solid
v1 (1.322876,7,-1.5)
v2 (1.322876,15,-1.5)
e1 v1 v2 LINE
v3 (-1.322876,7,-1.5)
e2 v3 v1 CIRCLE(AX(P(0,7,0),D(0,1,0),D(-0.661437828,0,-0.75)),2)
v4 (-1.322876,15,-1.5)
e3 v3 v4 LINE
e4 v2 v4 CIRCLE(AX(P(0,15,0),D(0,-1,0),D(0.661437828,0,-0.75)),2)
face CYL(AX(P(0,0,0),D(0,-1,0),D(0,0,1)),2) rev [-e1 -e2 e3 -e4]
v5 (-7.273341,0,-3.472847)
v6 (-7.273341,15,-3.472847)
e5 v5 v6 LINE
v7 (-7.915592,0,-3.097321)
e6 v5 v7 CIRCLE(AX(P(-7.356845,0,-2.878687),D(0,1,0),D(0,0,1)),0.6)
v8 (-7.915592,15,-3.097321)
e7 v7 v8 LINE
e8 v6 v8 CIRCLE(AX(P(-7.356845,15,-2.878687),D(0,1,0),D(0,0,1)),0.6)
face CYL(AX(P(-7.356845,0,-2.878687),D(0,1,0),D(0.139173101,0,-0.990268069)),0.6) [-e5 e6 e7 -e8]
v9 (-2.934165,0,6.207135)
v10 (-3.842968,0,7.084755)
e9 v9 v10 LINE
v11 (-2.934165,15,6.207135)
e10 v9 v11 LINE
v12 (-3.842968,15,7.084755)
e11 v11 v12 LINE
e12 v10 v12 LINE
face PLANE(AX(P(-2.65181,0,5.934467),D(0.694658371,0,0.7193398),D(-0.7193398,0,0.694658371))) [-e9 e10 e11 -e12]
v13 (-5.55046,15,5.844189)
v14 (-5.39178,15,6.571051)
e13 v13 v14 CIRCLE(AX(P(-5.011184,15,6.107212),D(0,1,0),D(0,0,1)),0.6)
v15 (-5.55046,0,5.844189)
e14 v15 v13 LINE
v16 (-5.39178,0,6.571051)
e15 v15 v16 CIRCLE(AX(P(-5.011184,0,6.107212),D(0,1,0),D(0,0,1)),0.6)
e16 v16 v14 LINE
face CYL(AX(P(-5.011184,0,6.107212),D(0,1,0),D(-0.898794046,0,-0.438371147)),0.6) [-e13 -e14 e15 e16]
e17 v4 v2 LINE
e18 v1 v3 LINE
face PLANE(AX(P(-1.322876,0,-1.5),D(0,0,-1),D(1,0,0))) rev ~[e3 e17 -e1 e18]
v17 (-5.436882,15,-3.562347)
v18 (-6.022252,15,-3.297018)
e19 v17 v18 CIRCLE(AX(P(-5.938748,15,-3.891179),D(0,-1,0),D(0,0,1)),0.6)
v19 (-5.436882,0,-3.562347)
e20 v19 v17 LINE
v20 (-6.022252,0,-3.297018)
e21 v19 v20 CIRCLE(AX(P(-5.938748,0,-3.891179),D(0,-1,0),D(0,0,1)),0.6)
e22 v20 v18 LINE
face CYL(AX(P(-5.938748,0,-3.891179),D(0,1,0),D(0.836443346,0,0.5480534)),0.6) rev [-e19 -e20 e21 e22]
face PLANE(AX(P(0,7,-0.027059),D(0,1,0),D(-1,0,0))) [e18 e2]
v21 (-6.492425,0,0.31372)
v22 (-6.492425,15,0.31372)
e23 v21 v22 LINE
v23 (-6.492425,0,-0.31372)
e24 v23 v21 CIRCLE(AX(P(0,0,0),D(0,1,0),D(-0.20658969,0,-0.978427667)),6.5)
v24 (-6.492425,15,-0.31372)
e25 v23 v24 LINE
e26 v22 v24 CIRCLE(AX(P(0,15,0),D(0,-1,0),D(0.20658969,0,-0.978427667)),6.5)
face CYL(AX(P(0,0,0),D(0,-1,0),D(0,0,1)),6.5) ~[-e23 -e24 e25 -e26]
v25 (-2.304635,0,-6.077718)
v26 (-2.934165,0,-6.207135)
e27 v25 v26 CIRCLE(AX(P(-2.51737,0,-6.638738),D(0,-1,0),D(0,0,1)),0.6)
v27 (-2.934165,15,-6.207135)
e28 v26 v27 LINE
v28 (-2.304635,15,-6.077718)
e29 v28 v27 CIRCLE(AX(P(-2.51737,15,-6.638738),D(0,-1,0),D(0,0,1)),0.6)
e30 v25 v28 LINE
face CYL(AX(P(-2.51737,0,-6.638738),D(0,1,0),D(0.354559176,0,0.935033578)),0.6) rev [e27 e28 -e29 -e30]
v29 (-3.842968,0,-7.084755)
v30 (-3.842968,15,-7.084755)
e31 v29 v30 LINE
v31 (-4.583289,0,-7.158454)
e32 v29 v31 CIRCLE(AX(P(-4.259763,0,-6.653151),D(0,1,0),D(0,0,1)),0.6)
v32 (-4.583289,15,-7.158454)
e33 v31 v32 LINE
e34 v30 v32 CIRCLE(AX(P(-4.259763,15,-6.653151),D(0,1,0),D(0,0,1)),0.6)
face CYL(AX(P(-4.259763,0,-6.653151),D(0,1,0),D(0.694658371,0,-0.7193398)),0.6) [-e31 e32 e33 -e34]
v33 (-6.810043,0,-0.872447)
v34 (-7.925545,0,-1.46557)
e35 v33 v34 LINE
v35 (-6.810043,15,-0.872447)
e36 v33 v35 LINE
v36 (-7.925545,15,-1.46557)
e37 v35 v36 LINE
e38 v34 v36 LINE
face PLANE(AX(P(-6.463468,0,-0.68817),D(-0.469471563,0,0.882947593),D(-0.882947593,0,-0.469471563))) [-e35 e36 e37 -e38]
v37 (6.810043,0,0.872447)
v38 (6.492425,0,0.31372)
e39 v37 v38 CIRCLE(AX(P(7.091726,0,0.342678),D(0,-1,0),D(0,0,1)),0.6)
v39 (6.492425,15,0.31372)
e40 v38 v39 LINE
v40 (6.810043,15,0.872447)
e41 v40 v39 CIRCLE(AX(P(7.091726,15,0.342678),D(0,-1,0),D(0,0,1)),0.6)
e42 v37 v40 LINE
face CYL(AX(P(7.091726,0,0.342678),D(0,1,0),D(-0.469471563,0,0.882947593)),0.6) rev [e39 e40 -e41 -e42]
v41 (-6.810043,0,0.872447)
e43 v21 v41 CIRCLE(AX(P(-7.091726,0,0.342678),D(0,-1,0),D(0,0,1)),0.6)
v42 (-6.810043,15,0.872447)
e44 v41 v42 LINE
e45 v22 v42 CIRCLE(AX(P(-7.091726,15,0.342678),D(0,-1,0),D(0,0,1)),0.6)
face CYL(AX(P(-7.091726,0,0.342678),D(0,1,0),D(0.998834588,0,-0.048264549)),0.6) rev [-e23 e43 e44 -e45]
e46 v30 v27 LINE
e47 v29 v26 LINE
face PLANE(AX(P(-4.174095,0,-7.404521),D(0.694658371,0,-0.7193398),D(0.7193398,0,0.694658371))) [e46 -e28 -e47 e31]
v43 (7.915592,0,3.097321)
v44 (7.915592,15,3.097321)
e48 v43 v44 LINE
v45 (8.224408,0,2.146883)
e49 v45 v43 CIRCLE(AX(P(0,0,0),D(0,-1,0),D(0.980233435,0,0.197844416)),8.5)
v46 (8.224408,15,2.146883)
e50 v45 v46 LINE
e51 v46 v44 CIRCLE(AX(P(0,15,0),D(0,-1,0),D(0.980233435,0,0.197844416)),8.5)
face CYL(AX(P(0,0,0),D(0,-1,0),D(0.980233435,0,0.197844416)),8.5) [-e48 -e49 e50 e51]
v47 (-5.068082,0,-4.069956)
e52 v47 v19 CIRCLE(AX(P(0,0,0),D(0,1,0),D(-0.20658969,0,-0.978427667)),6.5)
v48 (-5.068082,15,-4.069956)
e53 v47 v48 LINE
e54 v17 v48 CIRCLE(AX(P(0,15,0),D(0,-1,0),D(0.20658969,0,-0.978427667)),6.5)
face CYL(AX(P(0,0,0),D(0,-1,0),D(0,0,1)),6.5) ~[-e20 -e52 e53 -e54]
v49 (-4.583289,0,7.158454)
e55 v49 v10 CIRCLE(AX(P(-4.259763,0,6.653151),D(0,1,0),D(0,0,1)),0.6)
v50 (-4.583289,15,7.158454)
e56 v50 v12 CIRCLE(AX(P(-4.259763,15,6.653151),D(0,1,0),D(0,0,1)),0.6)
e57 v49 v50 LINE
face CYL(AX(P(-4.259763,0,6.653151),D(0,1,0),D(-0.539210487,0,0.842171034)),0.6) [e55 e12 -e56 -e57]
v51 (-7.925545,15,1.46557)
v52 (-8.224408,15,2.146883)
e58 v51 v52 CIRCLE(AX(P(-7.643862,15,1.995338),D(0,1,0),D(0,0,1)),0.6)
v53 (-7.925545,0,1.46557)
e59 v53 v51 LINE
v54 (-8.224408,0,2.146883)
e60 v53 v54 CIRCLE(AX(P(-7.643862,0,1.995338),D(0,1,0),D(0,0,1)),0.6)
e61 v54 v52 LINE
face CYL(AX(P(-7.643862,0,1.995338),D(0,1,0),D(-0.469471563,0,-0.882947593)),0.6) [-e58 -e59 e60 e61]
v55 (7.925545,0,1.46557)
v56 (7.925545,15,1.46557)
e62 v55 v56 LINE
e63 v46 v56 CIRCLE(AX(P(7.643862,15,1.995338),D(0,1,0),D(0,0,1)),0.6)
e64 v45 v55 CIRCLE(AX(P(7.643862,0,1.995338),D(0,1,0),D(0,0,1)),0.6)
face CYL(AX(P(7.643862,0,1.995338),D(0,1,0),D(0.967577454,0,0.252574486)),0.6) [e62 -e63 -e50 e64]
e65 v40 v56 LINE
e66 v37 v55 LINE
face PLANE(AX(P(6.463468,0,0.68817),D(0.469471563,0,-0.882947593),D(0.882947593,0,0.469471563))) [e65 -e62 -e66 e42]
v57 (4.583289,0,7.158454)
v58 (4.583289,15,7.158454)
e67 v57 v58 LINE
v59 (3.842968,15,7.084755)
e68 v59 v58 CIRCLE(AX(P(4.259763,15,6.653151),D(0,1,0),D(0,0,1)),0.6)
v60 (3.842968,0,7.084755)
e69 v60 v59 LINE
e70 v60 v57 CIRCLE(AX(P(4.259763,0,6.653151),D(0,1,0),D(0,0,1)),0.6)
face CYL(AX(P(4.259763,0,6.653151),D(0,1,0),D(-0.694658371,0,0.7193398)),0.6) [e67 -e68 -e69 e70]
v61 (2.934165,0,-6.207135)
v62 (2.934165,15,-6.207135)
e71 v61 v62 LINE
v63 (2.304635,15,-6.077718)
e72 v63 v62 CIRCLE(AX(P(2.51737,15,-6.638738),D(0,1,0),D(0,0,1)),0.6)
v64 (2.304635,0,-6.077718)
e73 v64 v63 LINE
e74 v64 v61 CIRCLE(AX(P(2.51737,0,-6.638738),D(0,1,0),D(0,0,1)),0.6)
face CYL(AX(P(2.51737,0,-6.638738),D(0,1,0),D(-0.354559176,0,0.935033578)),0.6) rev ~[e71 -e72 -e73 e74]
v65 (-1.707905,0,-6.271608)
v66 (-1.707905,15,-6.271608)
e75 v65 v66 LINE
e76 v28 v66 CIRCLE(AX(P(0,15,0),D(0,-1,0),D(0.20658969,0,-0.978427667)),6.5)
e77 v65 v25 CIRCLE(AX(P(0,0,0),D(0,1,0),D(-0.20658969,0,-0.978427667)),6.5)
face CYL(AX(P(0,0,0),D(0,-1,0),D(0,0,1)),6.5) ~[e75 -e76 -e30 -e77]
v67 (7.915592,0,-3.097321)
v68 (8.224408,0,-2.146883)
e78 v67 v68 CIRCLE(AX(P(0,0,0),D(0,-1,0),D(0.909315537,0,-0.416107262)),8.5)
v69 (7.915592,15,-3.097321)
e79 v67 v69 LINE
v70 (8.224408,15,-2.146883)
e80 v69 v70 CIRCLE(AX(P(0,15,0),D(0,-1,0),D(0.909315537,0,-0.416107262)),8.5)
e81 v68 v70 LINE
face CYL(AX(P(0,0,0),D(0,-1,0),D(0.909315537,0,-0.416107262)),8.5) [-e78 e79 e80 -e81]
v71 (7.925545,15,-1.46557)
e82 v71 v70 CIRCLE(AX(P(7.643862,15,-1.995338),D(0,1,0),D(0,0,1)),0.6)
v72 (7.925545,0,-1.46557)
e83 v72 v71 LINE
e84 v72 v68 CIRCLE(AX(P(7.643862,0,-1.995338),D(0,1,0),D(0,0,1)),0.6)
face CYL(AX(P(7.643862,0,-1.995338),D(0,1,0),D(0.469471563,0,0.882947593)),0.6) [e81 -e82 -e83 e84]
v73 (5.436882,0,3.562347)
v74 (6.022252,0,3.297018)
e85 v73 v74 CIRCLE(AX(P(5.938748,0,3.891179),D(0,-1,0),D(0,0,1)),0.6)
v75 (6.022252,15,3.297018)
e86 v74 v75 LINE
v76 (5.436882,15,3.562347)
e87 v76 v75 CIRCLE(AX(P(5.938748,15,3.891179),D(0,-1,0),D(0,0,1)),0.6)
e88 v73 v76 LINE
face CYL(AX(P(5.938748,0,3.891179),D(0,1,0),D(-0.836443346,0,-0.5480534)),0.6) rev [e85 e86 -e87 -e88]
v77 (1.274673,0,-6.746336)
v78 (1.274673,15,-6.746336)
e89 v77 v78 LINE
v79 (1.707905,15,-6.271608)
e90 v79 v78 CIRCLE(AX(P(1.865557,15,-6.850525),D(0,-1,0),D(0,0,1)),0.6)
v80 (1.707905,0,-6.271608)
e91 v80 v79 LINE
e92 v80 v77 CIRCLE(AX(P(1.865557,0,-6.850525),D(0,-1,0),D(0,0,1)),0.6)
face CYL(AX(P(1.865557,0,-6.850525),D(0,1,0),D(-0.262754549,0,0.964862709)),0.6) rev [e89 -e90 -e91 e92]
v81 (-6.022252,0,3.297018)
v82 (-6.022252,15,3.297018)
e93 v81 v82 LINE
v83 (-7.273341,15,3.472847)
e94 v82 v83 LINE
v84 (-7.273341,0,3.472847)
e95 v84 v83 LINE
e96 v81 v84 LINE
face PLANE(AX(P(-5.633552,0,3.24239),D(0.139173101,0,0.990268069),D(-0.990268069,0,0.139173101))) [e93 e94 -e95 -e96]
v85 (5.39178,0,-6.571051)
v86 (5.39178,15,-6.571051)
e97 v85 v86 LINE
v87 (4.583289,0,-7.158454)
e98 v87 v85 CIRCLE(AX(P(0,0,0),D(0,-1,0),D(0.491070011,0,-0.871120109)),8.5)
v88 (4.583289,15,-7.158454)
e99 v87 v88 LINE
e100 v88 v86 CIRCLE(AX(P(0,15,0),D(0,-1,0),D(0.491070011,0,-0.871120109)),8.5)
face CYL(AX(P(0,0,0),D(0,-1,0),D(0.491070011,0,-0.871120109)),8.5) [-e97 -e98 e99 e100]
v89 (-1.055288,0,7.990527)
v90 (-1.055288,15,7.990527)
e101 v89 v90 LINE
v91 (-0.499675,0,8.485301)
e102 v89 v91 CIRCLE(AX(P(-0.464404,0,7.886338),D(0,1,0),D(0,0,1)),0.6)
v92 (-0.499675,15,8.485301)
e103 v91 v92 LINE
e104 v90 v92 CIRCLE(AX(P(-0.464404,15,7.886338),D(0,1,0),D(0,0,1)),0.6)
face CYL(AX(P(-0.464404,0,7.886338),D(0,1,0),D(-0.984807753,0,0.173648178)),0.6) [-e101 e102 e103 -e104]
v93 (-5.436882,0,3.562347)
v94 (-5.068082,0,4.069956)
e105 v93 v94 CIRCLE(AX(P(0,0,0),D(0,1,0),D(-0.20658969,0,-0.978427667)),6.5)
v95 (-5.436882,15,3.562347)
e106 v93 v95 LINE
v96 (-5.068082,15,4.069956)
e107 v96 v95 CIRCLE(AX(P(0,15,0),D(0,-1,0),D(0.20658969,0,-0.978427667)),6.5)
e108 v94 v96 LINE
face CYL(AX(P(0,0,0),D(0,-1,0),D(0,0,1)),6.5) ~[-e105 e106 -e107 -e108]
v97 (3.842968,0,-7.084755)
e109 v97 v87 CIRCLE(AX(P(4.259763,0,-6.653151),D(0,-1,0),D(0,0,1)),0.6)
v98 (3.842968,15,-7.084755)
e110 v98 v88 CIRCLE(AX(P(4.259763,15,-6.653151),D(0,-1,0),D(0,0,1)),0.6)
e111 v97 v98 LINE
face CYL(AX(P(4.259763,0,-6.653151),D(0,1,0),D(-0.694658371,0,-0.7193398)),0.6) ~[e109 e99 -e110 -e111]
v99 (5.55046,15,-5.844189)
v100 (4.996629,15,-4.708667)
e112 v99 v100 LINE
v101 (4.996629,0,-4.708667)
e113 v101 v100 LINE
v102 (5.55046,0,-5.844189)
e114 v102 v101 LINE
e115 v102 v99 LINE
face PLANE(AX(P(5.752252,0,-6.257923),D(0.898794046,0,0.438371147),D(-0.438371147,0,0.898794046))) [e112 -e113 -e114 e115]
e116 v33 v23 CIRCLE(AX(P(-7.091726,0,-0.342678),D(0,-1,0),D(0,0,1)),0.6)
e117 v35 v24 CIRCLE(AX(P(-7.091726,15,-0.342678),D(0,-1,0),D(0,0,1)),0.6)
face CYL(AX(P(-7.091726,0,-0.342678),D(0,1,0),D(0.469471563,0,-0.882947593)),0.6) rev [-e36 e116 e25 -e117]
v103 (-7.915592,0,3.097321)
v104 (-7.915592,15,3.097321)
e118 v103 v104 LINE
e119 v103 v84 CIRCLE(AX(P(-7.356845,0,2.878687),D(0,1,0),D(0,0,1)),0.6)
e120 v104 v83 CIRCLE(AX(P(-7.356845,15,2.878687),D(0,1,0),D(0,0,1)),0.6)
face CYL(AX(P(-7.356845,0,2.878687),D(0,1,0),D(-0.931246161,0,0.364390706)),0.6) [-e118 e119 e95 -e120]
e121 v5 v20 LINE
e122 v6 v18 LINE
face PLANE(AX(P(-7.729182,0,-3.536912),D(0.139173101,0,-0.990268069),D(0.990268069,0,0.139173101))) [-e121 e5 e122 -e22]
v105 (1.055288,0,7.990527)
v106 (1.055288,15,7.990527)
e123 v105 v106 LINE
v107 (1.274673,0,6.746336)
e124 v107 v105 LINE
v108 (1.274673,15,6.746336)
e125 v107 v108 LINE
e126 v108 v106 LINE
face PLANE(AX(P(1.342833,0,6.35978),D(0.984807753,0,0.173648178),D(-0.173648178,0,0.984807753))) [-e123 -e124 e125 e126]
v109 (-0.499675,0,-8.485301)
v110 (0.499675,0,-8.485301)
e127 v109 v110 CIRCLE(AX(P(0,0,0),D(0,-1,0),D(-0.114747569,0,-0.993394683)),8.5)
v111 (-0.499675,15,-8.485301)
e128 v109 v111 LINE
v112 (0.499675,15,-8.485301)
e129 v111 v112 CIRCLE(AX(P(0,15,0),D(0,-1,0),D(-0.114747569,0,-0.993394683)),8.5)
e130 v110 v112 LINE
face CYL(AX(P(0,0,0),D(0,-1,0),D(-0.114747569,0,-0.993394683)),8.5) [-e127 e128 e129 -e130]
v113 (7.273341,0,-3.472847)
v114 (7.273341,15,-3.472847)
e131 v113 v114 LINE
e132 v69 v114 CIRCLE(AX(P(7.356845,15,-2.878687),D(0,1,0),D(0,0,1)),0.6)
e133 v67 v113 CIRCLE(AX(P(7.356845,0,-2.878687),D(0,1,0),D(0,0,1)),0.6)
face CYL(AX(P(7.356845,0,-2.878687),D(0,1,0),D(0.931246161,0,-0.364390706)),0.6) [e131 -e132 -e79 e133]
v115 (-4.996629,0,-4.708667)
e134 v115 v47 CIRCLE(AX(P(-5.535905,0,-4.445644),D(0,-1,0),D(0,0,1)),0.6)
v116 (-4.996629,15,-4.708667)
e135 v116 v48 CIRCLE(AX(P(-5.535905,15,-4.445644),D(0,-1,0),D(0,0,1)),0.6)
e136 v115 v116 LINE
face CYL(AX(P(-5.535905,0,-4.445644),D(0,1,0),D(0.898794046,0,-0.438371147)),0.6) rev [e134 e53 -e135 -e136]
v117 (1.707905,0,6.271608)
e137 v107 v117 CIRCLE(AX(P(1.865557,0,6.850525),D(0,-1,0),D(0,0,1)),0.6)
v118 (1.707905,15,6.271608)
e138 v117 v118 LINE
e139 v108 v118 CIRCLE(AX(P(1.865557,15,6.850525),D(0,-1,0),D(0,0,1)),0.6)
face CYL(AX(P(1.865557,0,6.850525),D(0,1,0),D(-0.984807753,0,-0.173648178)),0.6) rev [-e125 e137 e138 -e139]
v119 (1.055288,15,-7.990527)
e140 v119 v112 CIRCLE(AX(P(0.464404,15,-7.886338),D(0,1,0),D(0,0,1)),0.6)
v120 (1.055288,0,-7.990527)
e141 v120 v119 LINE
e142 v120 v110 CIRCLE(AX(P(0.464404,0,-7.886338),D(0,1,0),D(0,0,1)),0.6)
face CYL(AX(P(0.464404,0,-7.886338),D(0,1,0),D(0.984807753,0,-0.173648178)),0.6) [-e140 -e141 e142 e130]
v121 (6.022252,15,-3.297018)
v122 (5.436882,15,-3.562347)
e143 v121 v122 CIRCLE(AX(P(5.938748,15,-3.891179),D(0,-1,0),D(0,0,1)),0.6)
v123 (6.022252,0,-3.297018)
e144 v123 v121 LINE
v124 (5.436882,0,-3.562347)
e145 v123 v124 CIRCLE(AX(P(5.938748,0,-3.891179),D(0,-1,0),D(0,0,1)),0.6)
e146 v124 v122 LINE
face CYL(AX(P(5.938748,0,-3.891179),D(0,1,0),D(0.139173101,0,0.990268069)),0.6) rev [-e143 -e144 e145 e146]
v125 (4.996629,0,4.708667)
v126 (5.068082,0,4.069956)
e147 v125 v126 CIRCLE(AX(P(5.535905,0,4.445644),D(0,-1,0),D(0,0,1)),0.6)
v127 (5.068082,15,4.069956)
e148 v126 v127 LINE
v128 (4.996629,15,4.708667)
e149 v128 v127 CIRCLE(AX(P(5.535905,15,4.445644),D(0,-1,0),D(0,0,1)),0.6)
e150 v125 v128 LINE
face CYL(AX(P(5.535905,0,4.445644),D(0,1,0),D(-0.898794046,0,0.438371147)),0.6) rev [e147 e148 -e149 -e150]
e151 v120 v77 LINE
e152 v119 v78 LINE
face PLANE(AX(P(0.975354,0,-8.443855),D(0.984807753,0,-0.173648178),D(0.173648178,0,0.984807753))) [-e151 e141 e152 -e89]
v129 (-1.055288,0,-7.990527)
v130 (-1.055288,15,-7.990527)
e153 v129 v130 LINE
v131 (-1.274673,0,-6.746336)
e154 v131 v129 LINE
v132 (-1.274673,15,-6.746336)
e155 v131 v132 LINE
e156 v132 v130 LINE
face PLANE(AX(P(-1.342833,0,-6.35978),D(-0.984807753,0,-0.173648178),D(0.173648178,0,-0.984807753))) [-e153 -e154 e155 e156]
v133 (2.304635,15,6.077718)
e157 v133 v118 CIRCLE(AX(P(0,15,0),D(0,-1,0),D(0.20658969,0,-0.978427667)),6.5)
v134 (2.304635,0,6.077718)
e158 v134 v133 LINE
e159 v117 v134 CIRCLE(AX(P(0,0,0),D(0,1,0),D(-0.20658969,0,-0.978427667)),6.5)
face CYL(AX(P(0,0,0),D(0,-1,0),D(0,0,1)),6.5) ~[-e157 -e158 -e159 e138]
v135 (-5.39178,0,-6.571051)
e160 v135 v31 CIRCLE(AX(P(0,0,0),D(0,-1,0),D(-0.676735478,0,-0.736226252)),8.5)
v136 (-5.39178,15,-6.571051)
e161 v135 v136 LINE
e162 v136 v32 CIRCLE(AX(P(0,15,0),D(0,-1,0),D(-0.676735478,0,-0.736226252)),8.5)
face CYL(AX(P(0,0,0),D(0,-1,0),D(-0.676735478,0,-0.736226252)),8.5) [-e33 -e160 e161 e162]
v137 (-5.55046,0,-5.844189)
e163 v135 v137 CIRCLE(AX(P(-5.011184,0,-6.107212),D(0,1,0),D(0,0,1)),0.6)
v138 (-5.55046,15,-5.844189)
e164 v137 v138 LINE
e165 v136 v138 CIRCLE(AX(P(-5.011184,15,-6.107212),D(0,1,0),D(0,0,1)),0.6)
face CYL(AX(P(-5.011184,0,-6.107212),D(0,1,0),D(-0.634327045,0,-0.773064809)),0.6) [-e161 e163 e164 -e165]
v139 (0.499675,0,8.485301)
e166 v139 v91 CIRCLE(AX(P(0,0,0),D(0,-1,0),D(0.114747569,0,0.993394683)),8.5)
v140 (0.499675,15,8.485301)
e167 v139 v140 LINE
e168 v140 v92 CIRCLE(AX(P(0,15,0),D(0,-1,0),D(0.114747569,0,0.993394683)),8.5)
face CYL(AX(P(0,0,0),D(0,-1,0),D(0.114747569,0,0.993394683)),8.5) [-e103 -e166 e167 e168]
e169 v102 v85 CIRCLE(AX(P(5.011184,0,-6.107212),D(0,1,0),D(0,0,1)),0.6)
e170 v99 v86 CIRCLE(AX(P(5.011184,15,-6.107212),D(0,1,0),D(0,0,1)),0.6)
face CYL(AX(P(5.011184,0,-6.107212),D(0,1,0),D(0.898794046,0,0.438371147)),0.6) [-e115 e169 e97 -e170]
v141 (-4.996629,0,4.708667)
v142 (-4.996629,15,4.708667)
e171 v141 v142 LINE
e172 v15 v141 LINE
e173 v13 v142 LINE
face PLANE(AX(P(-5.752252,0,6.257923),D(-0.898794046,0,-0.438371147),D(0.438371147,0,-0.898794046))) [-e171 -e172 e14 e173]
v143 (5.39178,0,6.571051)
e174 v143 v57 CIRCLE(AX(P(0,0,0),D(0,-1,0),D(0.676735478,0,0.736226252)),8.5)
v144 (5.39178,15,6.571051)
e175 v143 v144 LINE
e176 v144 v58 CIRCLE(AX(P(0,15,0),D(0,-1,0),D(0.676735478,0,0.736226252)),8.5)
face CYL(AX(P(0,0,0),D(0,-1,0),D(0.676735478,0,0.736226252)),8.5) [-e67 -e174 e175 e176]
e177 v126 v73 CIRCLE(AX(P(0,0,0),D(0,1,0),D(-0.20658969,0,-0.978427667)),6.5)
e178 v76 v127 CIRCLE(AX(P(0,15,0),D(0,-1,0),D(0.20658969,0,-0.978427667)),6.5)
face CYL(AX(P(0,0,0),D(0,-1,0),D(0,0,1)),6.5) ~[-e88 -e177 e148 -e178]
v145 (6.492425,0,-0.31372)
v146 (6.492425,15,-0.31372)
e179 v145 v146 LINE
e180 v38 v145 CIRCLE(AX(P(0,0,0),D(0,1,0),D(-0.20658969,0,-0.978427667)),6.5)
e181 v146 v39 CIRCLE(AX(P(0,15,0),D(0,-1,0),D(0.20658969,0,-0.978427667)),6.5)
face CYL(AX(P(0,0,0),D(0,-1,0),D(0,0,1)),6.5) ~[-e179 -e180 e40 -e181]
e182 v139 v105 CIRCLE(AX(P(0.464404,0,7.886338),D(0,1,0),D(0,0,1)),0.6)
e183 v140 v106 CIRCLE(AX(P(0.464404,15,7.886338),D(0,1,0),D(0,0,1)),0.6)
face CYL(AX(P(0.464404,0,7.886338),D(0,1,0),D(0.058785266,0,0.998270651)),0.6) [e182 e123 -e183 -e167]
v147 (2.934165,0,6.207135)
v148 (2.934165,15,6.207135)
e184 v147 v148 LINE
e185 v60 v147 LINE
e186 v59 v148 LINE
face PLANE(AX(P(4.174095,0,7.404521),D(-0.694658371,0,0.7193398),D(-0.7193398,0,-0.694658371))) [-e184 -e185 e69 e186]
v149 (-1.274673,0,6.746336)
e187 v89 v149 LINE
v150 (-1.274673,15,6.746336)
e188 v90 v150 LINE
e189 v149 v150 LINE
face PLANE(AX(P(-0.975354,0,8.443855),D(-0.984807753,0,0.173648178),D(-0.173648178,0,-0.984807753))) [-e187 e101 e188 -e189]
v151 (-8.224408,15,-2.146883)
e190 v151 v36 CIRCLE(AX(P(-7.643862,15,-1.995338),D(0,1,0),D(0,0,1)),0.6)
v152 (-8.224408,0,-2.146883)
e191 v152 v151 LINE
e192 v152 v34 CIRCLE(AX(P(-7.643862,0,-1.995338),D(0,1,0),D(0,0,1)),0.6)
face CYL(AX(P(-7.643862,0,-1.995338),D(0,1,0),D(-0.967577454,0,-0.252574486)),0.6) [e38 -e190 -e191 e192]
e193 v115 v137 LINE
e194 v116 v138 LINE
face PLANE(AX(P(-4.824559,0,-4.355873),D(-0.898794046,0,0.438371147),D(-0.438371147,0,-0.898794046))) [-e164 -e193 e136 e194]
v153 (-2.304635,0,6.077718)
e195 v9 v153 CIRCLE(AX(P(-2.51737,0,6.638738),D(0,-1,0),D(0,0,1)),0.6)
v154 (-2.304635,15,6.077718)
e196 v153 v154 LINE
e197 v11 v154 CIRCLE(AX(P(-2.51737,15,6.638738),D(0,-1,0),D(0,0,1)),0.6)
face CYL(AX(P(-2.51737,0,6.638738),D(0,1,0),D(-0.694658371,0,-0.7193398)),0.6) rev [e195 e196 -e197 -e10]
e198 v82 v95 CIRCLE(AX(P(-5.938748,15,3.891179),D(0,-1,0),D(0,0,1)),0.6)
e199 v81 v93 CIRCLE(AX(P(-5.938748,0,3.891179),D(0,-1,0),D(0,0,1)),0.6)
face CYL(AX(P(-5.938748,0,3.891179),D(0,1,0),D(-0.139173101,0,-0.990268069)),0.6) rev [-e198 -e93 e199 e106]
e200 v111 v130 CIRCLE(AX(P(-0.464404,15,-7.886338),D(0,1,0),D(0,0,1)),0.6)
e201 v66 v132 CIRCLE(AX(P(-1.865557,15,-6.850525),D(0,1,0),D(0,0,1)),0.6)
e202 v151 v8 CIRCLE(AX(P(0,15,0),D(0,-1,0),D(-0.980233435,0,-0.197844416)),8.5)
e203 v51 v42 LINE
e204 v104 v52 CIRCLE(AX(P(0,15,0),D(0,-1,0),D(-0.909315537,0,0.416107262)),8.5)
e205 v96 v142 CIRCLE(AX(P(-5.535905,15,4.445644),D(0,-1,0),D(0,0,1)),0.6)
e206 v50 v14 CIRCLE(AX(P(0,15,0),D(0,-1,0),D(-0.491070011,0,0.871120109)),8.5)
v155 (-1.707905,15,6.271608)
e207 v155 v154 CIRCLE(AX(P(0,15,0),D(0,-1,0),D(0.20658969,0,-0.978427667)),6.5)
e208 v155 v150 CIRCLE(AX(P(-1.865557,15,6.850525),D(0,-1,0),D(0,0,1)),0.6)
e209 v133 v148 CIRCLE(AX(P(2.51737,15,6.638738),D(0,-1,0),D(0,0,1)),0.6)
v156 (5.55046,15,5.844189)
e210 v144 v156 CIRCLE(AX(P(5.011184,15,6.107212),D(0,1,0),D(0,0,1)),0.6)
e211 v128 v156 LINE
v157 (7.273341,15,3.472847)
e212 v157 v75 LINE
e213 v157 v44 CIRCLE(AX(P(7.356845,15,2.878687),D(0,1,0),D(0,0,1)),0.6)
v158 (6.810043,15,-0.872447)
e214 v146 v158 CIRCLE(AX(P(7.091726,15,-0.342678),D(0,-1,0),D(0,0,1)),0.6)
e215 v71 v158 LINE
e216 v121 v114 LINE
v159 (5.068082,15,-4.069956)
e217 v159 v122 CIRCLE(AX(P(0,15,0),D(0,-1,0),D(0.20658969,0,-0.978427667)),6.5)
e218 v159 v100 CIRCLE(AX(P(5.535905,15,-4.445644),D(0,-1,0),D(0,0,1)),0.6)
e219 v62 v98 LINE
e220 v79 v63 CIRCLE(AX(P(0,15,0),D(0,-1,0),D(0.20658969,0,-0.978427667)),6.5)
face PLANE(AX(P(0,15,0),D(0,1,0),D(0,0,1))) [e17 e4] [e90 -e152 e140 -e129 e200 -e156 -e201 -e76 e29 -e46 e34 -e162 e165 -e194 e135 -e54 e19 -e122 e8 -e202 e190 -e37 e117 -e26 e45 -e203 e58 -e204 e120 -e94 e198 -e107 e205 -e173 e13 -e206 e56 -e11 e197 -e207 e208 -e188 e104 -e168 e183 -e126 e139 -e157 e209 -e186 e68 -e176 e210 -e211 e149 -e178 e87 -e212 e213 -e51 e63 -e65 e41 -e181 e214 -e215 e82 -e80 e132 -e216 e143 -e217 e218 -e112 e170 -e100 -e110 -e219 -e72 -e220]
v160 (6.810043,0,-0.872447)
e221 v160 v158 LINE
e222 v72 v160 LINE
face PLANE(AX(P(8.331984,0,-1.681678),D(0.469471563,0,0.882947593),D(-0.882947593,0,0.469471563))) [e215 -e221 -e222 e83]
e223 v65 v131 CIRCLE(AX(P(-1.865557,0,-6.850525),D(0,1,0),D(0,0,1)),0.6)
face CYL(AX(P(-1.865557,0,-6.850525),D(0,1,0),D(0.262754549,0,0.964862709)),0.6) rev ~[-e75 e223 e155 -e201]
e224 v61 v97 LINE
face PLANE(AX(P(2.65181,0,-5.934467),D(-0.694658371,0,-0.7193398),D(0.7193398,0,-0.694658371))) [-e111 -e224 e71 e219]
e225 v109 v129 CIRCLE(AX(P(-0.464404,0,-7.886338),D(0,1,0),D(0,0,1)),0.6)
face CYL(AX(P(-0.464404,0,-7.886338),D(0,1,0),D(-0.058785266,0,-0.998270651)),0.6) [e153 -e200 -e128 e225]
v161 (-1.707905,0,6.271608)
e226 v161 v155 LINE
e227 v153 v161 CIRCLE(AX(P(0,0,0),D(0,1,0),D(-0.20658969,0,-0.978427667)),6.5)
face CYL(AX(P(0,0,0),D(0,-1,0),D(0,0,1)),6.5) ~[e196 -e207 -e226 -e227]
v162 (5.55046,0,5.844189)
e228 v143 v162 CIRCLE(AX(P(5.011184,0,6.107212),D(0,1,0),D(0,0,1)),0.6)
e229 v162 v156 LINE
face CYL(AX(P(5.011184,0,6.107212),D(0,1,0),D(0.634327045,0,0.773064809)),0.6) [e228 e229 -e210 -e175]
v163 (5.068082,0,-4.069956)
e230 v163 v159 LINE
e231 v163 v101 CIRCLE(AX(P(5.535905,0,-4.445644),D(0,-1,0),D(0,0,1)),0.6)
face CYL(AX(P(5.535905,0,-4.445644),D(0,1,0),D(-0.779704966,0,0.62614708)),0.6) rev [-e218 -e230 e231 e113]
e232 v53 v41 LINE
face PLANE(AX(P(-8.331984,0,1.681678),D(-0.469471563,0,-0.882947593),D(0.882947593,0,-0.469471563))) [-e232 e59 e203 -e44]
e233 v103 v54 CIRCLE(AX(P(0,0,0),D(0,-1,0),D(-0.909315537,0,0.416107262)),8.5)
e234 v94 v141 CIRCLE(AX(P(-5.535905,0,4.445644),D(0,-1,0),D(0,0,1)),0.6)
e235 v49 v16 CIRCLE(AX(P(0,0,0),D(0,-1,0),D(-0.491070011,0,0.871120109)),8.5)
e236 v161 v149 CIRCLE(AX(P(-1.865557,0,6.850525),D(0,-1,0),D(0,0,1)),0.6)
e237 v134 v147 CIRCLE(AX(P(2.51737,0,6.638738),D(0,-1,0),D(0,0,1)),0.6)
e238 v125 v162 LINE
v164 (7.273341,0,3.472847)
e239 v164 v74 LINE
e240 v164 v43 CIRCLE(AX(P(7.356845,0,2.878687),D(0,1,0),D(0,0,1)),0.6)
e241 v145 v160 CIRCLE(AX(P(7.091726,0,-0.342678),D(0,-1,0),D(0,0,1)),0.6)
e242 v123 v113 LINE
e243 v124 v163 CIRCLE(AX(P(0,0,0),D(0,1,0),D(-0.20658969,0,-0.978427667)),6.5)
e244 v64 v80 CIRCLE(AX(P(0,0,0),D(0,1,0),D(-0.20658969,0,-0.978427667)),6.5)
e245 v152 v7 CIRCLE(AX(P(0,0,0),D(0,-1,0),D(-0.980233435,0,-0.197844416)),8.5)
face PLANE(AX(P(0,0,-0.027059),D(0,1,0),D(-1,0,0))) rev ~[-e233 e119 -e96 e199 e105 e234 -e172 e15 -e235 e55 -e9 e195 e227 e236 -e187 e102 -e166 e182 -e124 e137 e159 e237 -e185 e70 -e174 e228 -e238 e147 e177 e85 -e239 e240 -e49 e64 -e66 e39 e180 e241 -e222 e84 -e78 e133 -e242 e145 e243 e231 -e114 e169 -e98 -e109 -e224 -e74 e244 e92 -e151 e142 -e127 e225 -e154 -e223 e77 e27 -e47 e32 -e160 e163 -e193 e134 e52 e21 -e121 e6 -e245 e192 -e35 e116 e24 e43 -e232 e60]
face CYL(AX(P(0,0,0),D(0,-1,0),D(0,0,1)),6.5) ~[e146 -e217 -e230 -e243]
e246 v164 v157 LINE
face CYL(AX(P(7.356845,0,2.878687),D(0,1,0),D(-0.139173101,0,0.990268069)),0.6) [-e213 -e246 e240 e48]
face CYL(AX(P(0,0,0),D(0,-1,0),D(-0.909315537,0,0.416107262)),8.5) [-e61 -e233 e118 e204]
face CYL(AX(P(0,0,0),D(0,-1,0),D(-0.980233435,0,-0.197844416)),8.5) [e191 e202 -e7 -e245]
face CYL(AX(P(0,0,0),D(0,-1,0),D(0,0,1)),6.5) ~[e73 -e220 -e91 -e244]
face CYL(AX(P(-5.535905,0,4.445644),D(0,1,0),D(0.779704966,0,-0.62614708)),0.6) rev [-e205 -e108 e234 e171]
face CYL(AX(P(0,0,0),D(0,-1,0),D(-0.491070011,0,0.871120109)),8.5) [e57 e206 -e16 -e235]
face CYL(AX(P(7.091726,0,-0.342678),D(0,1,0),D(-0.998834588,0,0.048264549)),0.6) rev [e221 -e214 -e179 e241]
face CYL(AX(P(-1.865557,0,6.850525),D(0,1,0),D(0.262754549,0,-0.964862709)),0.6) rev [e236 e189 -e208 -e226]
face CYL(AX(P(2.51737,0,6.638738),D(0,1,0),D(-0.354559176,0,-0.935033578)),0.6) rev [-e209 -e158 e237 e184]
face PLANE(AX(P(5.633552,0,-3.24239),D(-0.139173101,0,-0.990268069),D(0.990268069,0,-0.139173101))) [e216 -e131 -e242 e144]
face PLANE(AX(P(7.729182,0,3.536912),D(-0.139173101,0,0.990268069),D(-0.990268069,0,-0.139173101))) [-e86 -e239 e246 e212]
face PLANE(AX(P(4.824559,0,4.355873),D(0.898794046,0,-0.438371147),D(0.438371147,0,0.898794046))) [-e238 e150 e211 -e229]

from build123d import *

# Parameters (mm, degrees)
SKETCH1_R                = 6.5
SKETCH1_R_2              = 2
BOSS_EXTRUDE1_DEPTH      = 15
BOSS_EXTRUDE2_START      = -15
BOSS_EXTRUDE2_DEPTH      = 15
FILLET1_R                = 0.6
CIRPATTERN1_COUNT        = 10
FILLET1_OF_CIRPATTERN1_R = 0.6
BOSS_EXTRUDE3_START      = -15
BOSS_EXTRUDE3_DEPTH      = 15
BOSS_EXTRUDE4_DEPTH      = 7


with BuildPart() as part:
    # Sketch1 → Boss-Extrude1 (new body)
    with BuildSketch(Plane(origin=(0, 0, 0), x_dir=(1, 0, 0), z_dir=(0, 1, 0))):
        with Locations(Location((0, 0, 0), (0, 0, 270))):
            Circle(SKETCH1_R)
        with Locations(Location((0, 0, 0), (0, 0, 270))):
            Circle(SKETCH1_R_2, mode=Mode.SUBTRACT)
    extrude(amount=BOSS_EXTRUDE1_DEPTH)

    # Sketch2 → Boss-Extrude2 (add)
    with BuildSketch(Plane(origin=(0, 15, 0), x_dir=(1, 0, 0), z_dir=(0, 1, 0)).offset(BOSS_EXTRUDE2_START)):
        with BuildLine():
            Line((0.975354337, 8.443854802), (1.342832983, 6.359779837))
            ThreePointArc((1.342832983, 6.359779837), (0, 6.5), (-1.342832983, 6.359779837))
            Line((-1.342832983, 6.359779837), (-0.975354337, 8.443854802))
            ThreePointArc((-0.975354337, 8.443854802), (0, 8.5), (0.975354337, 8.443854802))
        make_face()
    boss_extrude2 = extrude(amount=BOSS_EXTRUDE2_DEPTH)

    # Fillet1
    fillet1_edges = [part.edges().sort_by_distance(p)[0] for p in [
        (-0.975354337, 7.5, -8.443854802),
        (0.975354337, 7.5, -8.443854802),
        (1.342832983, 7.5, -6.359779837),
        (-1.342832983, 7.5, -6.359779837),
    ]]
    fillet(fillet1_edges, radius=FILLET1_R)

    # CirPattern1: Boss-Extrude2 ×10 about axis
    cirpattern1_axis = Axis((0, 0, 0), (0, 1, 0))
    for i in range(1, CIRPATTERN1_COUNT):
        add(boss_extrude2.rotate(cirpattern1_axis, i * 360 / CIRPATTERN1_COUNT))

    # Fillet1 of CirPattern1
    fillet1_of_cirpattern1_edges = [part.edges().sort_by_distance(p)[0] for p in [
        (-5.752251559, 7.5, -6.257923138),
        (-4.174095091, 7.5, -7.404520928),
        (-2.651810092, 7.5, -5.934467393),
        (-4.8245595, 7.5, -4.355872545),
        (-8.331984198, 7.5, -1.681677534),
        (-7.729182066, 7.5, -3.53691173),
        (-5.633551844, 7.5, -3.242390109),
        (-6.463468269, 7.5, -0.688169991),
        (-7.729182066, 7.5, 3.53691173),
        (-8.331984198, 7.5, 1.681677534),
        (-6.463468269, 7.5, 0.688169991),
        (-5.633551844, 7.5, 3.242390109),
        (-4.174095091, 7.5, 7.404520928),
        (-5.752251559, 7.5, 6.257923138),
        (-4.8245595, 7.5, 4.355872545),
        (-2.651810092, 7.5, 5.934467393),
        (0.975354337, 7.5, 8.443854802),
        (-0.975354337, 7.5, 8.443854802),
        (-1.342832983, 7.5, 6.359779837),
        (1.342832983, 7.5, 6.359779837),
        (5.752251559, 7.5, 6.257923138),
        (4.174095091, 7.5, 7.404520928),
        (2.651810092, 7.5, 5.934467393),
        (4.8245595, 7.5, 4.355872545),
        (8.331984198, 7.5, 1.681677534),
        (7.729182066, 7.5, 3.53691173),
        (5.633551844, 7.5, 3.242390109),
        (6.463468269, 7.5, 0.688169991),
        (7.729182066, 7.5, -3.53691173),
        (8.331984198, 7.5, -1.681677534),
        (6.463468269, 7.5, -0.688169991),
        (5.633551844, 7.5, -3.242390109),
        (4.174095091, 7.5, -7.404520928),
        (5.752251559, 7.5, -6.257923138),
        (4.8245595, 7.5, -4.355872545),
        (2.651810092, 7.5, -5.934467393),
    ]]
    fillet(fillet1_of_cirpattern1_edges, radius=FILLET1_OF_CIRPATTERN1_R)

    # Sketch3 → Boss-Extrude3 (add)
    with BuildSketch(Plane(origin=(0, 15, 0), x_dir=(1, 0, 0), z_dir=(0, 1, 0)).offset(BOSS_EXTRUDE3_START)):
        with BuildLine():
            Line((-1.322875656, 1.5), (1.322875656, 1.5))
            ThreePointArc((1.322875656, 1.5), (0, 2), (-1.322875656, 1.5))
        make_face()
    extrude(amount=BOSS_EXTRUDE3_DEPTH)

    # Sketch4 → Boss-Extrude4 (add)
    with BuildSketch(Plane.XZ):
        with BuildLine():
            Line((1.322875656, -1.5), (-1.322875656, -1.5))
            ThreePointArc((-1.322875656, -1.5), (0, 2), (1.322875656, -1.5))
        make_face()
    extrude(amount=-BOSS_EXTRUDE4_DEPTH)


solid = part.part
